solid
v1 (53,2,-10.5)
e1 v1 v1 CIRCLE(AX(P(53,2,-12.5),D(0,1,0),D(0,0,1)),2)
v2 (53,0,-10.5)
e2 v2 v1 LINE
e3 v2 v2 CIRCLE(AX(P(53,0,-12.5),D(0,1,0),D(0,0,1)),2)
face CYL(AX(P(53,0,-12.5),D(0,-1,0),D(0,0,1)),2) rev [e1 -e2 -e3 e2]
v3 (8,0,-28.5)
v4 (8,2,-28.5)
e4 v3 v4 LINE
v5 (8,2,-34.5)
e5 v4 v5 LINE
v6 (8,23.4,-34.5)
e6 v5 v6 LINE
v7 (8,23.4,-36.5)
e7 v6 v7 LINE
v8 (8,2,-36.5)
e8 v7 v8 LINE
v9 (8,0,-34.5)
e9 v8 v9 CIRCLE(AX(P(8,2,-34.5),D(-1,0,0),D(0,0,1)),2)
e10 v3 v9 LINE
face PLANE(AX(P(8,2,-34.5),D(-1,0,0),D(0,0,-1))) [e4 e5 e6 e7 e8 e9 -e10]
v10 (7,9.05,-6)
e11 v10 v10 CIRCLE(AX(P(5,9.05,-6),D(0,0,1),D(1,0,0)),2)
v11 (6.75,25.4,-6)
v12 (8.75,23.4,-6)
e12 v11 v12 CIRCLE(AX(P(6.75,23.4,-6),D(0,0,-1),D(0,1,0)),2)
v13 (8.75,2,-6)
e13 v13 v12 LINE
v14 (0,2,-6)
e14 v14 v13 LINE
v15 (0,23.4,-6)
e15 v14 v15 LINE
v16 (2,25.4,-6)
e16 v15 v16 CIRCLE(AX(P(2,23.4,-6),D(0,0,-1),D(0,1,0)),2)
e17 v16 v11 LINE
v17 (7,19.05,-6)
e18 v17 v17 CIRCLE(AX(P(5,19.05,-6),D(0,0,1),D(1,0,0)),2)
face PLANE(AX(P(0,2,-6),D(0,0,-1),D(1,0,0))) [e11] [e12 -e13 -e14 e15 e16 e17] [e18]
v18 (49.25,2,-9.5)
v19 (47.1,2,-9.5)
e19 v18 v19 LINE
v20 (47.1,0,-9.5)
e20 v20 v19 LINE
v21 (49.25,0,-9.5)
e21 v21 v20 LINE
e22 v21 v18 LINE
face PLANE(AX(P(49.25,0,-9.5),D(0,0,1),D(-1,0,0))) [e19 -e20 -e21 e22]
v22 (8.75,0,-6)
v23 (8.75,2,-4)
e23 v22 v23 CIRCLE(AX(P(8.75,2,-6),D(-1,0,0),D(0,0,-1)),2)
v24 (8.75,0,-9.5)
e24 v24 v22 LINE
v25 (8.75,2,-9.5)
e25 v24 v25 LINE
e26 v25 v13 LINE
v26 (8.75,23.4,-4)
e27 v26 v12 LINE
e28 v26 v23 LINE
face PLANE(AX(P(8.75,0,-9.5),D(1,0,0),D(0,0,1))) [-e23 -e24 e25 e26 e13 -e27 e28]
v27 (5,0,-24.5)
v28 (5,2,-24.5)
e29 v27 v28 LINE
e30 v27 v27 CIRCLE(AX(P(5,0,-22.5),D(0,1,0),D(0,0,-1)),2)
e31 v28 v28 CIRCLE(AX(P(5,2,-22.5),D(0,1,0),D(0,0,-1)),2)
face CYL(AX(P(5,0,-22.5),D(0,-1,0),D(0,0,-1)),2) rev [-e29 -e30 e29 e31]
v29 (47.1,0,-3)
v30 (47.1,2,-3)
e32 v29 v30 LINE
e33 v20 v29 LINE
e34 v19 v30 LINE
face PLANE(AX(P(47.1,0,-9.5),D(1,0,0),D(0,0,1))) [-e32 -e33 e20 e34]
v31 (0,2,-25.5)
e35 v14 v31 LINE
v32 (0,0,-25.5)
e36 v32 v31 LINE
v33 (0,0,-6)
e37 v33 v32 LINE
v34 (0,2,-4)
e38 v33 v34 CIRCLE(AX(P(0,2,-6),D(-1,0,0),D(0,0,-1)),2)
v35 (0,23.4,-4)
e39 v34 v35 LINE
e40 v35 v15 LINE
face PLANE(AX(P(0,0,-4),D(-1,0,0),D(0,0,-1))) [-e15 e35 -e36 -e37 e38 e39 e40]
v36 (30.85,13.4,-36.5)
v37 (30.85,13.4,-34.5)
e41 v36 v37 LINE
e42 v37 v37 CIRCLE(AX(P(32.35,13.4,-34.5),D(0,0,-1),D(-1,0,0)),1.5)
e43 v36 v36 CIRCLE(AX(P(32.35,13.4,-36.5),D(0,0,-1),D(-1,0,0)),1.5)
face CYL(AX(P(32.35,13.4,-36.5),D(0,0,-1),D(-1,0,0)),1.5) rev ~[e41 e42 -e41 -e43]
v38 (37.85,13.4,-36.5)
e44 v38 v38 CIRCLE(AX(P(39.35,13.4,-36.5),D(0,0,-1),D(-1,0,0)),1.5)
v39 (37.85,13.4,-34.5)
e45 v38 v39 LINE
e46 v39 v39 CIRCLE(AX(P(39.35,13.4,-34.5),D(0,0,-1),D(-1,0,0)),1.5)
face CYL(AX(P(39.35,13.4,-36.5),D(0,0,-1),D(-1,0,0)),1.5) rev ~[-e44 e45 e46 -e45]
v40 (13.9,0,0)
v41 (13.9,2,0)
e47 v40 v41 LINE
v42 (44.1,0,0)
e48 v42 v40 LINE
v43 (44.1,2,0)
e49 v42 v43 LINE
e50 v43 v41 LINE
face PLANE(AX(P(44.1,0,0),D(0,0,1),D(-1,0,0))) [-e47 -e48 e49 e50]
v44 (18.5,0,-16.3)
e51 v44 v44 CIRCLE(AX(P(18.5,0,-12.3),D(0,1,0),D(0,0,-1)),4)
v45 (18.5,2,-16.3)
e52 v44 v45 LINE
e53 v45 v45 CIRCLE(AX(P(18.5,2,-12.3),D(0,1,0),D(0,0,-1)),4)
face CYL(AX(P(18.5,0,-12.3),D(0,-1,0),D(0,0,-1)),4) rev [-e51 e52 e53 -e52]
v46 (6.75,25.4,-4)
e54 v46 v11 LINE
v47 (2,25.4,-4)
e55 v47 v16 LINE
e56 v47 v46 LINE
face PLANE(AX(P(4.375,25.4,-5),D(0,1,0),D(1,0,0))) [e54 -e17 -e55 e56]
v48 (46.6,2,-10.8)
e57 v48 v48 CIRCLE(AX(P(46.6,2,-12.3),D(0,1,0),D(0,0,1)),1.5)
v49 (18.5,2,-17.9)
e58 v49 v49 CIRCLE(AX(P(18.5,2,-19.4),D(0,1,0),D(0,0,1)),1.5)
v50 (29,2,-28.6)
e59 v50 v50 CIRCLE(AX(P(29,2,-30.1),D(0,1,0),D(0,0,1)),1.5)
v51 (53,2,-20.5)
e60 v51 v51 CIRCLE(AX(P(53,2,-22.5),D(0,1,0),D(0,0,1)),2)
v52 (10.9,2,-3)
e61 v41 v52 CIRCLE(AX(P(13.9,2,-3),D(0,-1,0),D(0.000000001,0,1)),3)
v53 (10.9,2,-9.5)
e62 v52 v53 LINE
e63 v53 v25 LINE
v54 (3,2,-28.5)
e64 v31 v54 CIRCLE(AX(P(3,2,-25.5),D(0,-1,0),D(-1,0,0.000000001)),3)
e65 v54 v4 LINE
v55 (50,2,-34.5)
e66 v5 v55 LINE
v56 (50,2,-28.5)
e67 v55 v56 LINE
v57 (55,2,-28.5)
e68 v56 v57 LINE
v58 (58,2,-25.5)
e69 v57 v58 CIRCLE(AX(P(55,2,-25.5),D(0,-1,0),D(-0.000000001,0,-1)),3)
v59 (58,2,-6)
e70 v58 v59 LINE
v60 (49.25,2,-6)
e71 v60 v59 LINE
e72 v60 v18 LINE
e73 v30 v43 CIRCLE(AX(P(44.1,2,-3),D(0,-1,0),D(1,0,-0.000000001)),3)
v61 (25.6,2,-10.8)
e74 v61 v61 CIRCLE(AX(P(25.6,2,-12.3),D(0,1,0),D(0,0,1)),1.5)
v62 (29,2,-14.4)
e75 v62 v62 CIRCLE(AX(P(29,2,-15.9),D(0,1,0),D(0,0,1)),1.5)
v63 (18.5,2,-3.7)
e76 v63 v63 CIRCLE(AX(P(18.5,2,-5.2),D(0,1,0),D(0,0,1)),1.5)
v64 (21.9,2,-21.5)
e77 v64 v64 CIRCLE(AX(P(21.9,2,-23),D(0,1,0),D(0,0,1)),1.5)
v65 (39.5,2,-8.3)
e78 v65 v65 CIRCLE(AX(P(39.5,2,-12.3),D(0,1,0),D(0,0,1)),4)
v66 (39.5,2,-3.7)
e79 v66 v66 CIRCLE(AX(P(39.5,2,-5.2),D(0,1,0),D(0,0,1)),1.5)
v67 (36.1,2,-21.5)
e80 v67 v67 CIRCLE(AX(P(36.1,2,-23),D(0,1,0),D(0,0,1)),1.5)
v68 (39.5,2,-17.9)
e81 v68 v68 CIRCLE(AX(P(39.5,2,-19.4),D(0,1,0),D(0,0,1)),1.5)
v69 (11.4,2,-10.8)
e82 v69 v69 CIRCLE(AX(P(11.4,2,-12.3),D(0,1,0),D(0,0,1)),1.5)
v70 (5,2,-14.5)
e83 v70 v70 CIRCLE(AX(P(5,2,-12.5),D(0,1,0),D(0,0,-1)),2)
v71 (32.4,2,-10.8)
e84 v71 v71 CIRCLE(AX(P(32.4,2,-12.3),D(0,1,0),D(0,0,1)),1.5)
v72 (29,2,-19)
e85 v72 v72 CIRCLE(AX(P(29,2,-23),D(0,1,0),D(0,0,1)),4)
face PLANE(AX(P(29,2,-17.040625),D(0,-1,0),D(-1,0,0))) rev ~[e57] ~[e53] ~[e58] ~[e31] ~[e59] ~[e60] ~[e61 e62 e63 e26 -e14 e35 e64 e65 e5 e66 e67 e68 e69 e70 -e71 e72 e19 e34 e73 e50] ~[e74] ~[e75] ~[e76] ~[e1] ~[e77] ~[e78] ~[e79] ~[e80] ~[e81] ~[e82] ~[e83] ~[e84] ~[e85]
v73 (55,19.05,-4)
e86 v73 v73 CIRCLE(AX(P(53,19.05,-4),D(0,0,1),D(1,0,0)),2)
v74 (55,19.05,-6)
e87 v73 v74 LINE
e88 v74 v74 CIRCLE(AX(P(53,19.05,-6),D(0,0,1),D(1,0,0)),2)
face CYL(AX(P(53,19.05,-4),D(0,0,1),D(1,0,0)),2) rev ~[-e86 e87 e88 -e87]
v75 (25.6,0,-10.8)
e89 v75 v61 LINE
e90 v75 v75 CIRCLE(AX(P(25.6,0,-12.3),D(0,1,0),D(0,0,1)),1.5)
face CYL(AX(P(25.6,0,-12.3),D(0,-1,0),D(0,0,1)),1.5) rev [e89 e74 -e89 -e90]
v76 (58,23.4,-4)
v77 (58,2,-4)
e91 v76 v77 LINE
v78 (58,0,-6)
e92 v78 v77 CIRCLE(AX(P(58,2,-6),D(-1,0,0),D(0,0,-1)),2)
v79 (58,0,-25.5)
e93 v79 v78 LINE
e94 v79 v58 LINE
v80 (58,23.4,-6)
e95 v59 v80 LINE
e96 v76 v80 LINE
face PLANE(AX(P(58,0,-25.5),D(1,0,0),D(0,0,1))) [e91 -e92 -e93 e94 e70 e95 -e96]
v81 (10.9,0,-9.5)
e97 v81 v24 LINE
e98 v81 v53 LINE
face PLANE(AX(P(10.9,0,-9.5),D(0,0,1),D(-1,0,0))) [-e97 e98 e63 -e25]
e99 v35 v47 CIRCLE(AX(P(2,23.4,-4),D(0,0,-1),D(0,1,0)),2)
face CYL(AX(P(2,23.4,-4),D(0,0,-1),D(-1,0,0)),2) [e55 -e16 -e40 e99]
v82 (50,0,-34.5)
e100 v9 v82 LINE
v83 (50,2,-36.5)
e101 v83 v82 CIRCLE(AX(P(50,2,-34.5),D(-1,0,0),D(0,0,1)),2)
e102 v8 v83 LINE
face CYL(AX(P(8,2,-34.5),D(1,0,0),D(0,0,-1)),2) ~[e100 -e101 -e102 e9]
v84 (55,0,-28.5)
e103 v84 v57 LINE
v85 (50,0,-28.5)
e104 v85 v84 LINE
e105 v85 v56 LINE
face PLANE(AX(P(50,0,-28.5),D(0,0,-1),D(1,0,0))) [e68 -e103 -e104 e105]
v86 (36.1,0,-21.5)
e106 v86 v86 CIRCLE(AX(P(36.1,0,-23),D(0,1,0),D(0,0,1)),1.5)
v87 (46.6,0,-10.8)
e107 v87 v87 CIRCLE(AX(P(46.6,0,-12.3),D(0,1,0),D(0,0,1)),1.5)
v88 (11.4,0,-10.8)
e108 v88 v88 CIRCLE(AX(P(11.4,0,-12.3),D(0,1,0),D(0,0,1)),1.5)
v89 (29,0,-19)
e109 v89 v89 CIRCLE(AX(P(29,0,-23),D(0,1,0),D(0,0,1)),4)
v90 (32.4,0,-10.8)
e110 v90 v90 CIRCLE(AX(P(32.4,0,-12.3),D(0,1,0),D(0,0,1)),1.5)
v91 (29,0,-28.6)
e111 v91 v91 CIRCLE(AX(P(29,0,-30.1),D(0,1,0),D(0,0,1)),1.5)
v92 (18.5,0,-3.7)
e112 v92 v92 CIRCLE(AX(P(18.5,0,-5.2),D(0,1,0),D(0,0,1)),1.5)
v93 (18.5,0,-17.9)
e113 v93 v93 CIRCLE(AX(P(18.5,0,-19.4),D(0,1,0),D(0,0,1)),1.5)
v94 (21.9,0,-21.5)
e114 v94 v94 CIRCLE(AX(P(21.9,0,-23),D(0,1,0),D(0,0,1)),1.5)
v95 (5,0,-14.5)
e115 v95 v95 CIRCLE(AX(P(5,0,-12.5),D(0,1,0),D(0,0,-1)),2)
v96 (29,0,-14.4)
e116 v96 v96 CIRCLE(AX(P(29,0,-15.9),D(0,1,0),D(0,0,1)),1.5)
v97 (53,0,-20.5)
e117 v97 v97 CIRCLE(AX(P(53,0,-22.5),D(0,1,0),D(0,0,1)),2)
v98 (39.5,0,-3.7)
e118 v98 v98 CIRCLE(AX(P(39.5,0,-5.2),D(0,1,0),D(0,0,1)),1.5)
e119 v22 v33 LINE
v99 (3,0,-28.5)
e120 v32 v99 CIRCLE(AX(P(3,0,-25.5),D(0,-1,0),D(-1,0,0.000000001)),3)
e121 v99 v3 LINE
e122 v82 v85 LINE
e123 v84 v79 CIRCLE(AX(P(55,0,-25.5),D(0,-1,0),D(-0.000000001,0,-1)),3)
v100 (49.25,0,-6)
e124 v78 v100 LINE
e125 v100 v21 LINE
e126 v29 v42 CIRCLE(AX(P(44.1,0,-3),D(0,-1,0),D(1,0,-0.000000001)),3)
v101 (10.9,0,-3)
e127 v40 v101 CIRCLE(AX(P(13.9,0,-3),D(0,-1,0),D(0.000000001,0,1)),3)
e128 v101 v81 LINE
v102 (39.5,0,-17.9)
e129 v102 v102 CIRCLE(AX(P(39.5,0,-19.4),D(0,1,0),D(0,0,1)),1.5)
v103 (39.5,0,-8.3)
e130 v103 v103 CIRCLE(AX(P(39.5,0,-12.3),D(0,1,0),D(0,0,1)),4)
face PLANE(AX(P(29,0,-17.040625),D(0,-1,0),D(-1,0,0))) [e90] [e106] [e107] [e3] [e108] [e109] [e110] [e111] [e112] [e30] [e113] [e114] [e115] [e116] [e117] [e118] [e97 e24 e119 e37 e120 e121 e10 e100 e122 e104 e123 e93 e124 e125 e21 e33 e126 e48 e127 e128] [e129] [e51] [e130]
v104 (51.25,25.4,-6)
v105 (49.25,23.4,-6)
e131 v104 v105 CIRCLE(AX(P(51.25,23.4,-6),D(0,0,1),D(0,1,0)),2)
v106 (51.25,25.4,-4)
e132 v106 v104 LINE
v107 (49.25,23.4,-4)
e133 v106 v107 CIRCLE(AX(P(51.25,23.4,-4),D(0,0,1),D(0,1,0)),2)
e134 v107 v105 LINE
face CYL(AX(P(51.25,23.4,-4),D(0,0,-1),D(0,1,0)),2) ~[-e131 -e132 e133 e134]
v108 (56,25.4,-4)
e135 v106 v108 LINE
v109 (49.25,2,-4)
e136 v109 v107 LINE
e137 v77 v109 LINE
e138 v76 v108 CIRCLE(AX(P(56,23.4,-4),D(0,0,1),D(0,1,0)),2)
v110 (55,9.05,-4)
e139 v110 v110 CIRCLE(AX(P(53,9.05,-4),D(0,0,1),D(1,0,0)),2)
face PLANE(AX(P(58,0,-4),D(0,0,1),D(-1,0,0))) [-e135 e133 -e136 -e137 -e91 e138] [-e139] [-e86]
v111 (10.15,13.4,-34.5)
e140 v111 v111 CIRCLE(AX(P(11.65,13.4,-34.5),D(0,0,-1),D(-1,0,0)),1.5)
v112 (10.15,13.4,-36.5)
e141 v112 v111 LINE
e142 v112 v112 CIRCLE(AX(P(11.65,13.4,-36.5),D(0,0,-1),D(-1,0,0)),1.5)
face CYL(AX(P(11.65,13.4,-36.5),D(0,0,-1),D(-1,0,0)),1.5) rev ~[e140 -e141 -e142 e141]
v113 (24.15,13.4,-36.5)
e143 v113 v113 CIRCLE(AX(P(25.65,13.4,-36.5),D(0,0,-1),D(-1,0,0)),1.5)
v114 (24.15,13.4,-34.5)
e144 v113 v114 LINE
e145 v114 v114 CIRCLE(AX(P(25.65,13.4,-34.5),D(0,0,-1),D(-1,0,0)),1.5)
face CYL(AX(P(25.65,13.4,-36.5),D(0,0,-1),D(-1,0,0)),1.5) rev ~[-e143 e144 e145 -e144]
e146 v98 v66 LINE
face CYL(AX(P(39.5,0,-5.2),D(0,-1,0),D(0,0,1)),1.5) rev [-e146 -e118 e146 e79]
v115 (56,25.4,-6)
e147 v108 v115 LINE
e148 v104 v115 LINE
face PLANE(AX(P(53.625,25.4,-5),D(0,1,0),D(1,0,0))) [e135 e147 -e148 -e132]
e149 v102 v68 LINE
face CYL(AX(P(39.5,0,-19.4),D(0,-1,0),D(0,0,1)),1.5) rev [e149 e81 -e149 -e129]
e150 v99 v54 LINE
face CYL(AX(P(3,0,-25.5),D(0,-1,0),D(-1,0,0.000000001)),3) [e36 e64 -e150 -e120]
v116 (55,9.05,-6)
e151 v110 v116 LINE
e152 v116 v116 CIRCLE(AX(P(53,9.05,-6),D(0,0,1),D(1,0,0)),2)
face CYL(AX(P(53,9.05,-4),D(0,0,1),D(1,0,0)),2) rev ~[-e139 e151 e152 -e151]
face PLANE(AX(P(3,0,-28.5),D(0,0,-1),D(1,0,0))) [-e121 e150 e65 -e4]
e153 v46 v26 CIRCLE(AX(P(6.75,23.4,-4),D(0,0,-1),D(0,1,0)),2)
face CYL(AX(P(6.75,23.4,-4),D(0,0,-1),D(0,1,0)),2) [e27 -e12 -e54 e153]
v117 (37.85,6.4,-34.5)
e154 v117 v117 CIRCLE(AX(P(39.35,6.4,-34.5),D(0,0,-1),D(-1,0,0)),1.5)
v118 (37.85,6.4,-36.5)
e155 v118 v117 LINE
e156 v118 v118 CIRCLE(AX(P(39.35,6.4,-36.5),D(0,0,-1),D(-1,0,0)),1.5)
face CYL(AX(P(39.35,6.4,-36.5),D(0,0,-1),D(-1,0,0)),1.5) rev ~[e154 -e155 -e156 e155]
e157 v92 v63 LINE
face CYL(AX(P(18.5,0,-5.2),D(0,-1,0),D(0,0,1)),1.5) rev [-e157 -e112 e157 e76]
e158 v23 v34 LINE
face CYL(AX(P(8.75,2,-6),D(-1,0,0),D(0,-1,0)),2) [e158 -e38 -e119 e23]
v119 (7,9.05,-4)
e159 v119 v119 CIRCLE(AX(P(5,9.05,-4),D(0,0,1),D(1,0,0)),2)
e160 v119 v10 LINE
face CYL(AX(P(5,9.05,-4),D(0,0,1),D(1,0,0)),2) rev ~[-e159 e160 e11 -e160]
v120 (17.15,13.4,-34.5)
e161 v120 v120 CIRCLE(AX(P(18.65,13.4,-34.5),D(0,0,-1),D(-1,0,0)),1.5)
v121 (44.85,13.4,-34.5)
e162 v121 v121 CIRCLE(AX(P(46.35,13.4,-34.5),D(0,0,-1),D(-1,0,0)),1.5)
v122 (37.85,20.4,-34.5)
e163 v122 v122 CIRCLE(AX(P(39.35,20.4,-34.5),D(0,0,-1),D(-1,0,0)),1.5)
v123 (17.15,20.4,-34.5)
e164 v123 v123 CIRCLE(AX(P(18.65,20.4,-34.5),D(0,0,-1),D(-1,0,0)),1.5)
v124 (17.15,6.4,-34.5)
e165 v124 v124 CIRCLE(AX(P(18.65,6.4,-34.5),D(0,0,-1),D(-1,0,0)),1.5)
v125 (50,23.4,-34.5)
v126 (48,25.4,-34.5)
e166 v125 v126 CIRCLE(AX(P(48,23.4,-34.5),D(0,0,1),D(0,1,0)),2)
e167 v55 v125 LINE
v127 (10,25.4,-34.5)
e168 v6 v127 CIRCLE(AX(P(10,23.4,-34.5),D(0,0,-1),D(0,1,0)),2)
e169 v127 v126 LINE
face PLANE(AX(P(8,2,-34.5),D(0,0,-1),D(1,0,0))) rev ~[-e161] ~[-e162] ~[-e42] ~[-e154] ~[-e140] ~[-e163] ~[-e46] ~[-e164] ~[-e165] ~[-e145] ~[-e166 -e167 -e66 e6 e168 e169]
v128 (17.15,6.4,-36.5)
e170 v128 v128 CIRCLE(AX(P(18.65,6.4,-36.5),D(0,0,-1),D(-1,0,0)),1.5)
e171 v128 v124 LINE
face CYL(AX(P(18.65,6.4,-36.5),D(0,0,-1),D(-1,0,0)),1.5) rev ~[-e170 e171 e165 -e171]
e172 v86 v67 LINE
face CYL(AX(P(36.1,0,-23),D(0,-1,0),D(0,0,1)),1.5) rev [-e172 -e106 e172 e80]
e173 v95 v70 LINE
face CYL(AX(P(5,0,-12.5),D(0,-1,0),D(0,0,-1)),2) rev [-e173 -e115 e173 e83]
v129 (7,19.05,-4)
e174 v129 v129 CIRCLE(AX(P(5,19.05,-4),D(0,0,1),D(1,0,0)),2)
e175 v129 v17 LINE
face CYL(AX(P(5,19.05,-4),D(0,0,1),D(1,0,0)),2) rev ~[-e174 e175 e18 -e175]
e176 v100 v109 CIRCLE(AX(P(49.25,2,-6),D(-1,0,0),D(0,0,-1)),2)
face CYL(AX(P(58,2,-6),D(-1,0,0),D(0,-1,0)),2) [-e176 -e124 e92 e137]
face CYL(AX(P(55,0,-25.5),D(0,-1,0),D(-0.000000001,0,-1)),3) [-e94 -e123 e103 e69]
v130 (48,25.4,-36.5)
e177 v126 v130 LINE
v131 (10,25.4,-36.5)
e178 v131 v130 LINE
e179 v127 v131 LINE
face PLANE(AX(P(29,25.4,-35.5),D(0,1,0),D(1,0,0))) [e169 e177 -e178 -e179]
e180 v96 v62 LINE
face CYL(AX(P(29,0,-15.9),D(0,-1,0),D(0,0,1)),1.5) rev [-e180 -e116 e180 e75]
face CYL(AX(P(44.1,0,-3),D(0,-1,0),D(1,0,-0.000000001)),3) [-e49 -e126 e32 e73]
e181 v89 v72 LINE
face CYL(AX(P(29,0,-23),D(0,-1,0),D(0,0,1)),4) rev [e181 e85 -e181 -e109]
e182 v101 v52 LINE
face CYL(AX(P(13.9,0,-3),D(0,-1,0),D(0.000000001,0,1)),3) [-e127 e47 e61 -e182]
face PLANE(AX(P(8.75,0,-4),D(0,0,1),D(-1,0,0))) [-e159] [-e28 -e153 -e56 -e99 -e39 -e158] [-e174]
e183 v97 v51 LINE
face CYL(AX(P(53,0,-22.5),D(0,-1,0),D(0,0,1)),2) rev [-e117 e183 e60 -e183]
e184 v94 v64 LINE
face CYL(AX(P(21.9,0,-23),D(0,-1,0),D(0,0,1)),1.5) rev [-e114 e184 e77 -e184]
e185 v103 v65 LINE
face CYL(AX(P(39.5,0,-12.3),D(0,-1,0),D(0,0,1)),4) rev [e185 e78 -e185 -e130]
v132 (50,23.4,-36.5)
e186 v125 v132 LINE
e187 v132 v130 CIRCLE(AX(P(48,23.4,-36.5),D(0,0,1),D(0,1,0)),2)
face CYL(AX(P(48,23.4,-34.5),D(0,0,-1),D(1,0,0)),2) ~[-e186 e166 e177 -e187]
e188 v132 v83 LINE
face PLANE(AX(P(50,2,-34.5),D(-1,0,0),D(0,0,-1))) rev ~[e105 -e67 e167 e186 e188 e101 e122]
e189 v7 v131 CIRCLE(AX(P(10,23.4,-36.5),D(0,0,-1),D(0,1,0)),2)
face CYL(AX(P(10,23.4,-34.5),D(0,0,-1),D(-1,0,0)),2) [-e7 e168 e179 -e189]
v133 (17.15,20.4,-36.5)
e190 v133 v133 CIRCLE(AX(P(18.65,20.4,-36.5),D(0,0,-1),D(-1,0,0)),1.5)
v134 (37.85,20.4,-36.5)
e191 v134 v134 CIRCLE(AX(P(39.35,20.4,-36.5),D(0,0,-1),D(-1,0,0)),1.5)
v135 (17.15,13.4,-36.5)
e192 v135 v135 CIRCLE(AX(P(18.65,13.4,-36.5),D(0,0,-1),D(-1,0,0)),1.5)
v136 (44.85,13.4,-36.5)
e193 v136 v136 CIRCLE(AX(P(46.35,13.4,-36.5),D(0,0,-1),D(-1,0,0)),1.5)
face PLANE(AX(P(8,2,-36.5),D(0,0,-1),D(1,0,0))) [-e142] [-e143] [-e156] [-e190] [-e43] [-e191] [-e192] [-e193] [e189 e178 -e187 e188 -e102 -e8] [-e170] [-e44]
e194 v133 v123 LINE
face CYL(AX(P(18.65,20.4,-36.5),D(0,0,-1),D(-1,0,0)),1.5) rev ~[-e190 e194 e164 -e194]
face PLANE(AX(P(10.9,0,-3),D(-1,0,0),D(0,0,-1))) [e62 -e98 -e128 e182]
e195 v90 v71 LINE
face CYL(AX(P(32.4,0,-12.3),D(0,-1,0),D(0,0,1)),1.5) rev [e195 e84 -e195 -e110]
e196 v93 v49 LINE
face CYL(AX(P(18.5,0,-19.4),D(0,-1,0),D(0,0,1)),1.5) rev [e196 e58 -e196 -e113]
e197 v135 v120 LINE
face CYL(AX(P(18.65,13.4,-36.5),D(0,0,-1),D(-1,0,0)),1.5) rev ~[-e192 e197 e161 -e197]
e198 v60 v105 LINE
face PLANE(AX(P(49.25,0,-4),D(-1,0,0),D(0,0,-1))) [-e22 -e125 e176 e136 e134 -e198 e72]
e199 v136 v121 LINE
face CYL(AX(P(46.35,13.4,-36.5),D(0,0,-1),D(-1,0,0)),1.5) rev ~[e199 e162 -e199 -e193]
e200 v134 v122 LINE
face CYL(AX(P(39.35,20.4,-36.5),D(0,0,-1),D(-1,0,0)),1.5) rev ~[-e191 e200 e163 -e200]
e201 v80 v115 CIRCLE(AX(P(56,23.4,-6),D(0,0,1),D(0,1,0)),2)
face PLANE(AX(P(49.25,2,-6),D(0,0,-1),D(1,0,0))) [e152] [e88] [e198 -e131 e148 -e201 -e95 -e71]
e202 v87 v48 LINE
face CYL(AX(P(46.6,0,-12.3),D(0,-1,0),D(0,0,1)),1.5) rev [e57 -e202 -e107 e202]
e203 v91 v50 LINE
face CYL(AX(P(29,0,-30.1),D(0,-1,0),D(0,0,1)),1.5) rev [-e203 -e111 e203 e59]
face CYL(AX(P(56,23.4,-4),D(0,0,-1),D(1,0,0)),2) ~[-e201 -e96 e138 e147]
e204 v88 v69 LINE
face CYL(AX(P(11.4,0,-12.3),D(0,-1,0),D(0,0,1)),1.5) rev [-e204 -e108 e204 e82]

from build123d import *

# Parameters (mm, degrees)
SKETCH1_R           = 4
SKETCH1_R_2         = 1.5
SKETCH1_R_3         = 2
BOSS_EXTRUDE1_DEPTH = 2
SKETCH2_W           = 42
SKETCH2_H           = 2
SKETCH2_W_2         = 8.75
BOSS_EXTRUDE2_DEPTH = 23.4
FILLET1_R           = 2
FILLET2_R           = 2
CUT_EXTRUDE1_REACH  = 73.172
SKETCH3_R           = 2
CUT_EXTRUDE2_REACH  = 75.085
SKETCH4_R           = 1.5


with BuildPart() as part:
    # Sketch1 → Boss-Extrude1 (new body)
    with BuildSketch(Plane(origin=(0, 0, 0), x_dir=(1, 0, 0), z_dir=(0, 1, 0))):
        with BuildLine():
            Line((0, 4), (0, 25.5))
            ThreePointArc((0, 25.5), (0.878679656, 27.621320344), (3, 28.5))
            Line((3, 28.5), (8, 28.5))
            Line((8, 28.5), (8, 36.5))
            Line((8, 36.5), (50, 36.5))
            Line((50, 36.5), (50, 28.5))
            Line((50, 28.5), (55, 28.5))
            ThreePointArc((55, 28.5), (57.121320344, 27.621320344), (58, 25.5))
            Line((58, 25.5), (58, 4))
            Line((58, 4), (49.25, 4))
            Line((49.25, 4), (49.25, 9.5))
            Line((49.25, 9.5), (47.1, 9.5))
            Line((47.1, 9.5), (47.1, 3))
            ThreePointArc((47.1, 3), (46.221320344, 0.878679656), (44.1, 0))
            Line((44.1, 0), (13.9, 0))
            ThreePointArc((13.9, 0), (11.778679656, 0.878679656), (10.9, 3))
            Line((10.9, 3), (10.9, 9.5))
            Line((10.9, 9.5), (8.75, 9.5))
            Line((8.75, 9.5), (8.75, 4))
            Line((8.75, 4), (0, 4))
        make_face()
        with Locations(Location((39.5, 12.3, 0), (0, 0, 270))):
            Circle(SKETCH1_R, mode=Mode.SUBTRACT)
        with Locations(Location((18.5, 12.3, 0), (0, 0, 90))):
            Circle(SKETCH1_R, mode=Mode.SUBTRACT)
        with Locations(Location((18.5, 19.4, 0), (0, 0, 270))):
            Circle(SKETCH1_R_2, mode=Mode.SUBTRACT)
        with Locations(Location((39.5, 19.4, 0), (0, 0, 270))):
            Circle(SKETCH1_R_2, mode=Mode.SUBTRACT)
        with Locations(Location((46.6, 12.3, 0), (0, 0, 270))):
            Circle(SKETCH1_R_2, mode=Mode.SUBTRACT)
        with Locations(Location((39.5, 5.2, 0), (0, 0, 270))):
            Circle(SKETCH1_R_2, mode=Mode.SUBTRACT)
        with Locations(Location((32.4, 12.3, 0), (0, 0, 270))):
            Circle(SKETCH1_R_2, mode=Mode.SUBTRACT)
        with Locations(Location((25.6, 12.3, 0), (0, 0, 270))):
            Circle(SKETCH1_R_2, mode=Mode.SUBTRACT)
        with Locations(Location((18.5, 5.2, 0), (0, 0, 270))):
            Circle(SKETCH1_R_2, mode=Mode.SUBTRACT)
        with Locations(Location((11.4, 12.3, 0), (0, 0, 270))):
            Circle(SKETCH1_R_2, mode=Mode.SUBTRACT)
        with Locations(Location((29, 23, 0), (0, 0, 270))):
            Circle(SKETCH1_R, mode=Mode.SUBTRACT)
        with Locations(Location((29, 30.1, 0), (0, 0, 270))):
            Circle(SKETCH1_R_2, mode=Mode.SUBTRACT)
        with Locations(Location((36.1, 23, 0), (0, 0, 270))):
            Circle(SKETCH1_R_2, mode=Mode.SUBTRACT)
        with Locations(Location((29, 15.9, 0), (0, 0, 270))):
            Circle(SKETCH1_R_2, mode=Mode.SUBTRACT)
        with Locations(Location((21.9, 23, 0), (0, 0, 270))):
            Circle(SKETCH1_R_2, mode=Mode.SUBTRACT)
        with Locations(Location((53, 22.5, 0), (0, 0, 270))):
            Circle(SKETCH1_R_3, mode=Mode.SUBTRACT)
        with Locations(Location((5, 22.5, 0), (0, 0, 90))):
            Circle(SKETCH1_R_3, mode=Mode.SUBTRACT)
        with Locations(Location((53, 12.5, 0), (0, 0, 270))):
            Circle(SKETCH1_R_3, mode=Mode.SUBTRACT)
        with Locations(Location((5, 12.5, 0), (0, 0, 90))):
            Circle(SKETCH1_R_3, mode=Mode.SUBTRACT)
    extrude(amount=BOSS_EXTRUDE1_DEPTH)

    # Sketch2 → Boss-Extrude2 (add)
    with BuildSketch(Plane(origin=(0, 2, 0), x_dir=(1, 0, 0), z_dir=(0, 1, 0))):
        with Locations((29, 35.5)):
            Rectangle(SKETCH2_W, SKETCH2_H)
        with Locations((4.375, 5)):
            Rectangle(SKETCH2_W_2, SKETCH2_H)
        with Locations((53.625, 5)):
            Rectangle(SKETCH2_W_2, SKETCH2_H)
    extrude(amount=BOSS_EXTRUDE2_DEPTH)

    # Fillet1
    fillet1_edges = [part.edges().sort_by_distance(p)[0] for p in [
        (8, 25.4, -35.5),
        (50, 25.4, -35.5),
        (0, 25.4, -5),
        (8.75, 25.4, -5),
        (49.25, 25.4, -5),
        (58, 25.4, -5),
    ]]
    fillet(fillet1_edges, radius=FILLET1_R)

    # Fillet2
    fillet2_edges = [part.edges().sort_by_distance(p)[0] for p in [
        (53.625, 0, -4),
        (4.375, 0, -4),
        (29, 0, -36.5),
    ]]
    fillet(fillet2_edges, radius=FILLET2_R)

    # Sketch3 → Cut-Extrude1 (cut, up to next)
    with BuildSketch(Plane.XY.offset(-4), mode=Mode.PRIVATE) as cut_extrude1_sk1:
        with Locations((5, 19.05)):
            Circle(SKETCH3_R)
    cut_extrude1_tool1 = extrude(cut_extrude1_sk1.sketch, amount=-CUT_EXTRUDE1_REACH, mode=Mode.PRIVATE) & part.part
    # Sketch3 → Cut-Extrude1 (cut, up to next)
    with BuildSketch(Plane.XY.offset(-4), mode=Mode.PRIVATE) as cut_extrude1_sk2:
        with Locations((5, 9.05)):
            Circle(SKETCH3_R)
    cut_extrude1_tool2 = extrude(cut_extrude1_sk2.sketch, amount=-CUT_EXTRUDE1_REACH, mode=Mode.PRIVATE) & part.part
    # Sketch3 → Cut-Extrude1 (cut, up to next)
    with BuildSketch(Plane.XY.offset(-4), mode=Mode.PRIVATE) as cut_extrude1_sk3:
        with Locations((53, 9.05)):
            Circle(SKETCH3_R)
    cut_extrude1_tool3 = extrude(cut_extrude1_sk3.sketch, amount=-CUT_EXTRUDE1_REACH, mode=Mode.PRIVATE) & part.part
    # Sketch3 → Cut-Extrude1 (cut, up to next)
    with BuildSketch(Plane.XY.offset(-4), mode=Mode.PRIVATE) as cut_extrude1_sk4:
        with Locations((53, 19.05)):
            Circle(SKETCH3_R)
    cut_extrude1_tool4 = extrude(cut_extrude1_sk4.sketch, amount=-CUT_EXTRUDE1_REACH, mode=Mode.PRIVATE) & part.part
    add(cut_extrude1_tool1.solids().sort_by_distance((5, 19.05, -4))[0], mode=Mode.SUBTRACT)
    add(cut_extrude1_tool2.solids().sort_by_distance((5, 9.05, -4))[0], mode=Mode.SUBTRACT)
    add(cut_extrude1_tool3.solids().sort_by_distance((53, 9.05, -4))[0], mode=Mode.SUBTRACT)
    add(cut_extrude1_tool4.solids().sort_by_distance((53, 19.05, -4))[0], mode=Mode.SUBTRACT)

    # Sketch4 → Cut-Extrude2 (cut, up to next)
    with BuildSketch(Plane(origin=(0, 0, -36.5), x_dir=(-1, 0, 0), z_dir=(0, 0, -1)), mode=Mode.PRIVATE) as cut_extrude2_sk1:
        with Locations((-18.65, 13.4)):
            Circle(SKETCH4_R)
    cut_extrude2_tool1 = extrude(cut_extrude2_sk1.sketch, amount=-CUT_EXTRUDE2_REACH, mode=Mode.PRIVATE) & part.part
    # Sketch4 → Cut-Extrude2 (cut, up to next)
    with BuildSketch(Plane(origin=(0, 0, -36.5), x_dir=(-1, 0, 0), z_dir=(0, 0, -1)), mode=Mode.PRIVATE) as cut_extrude2_sk2:
        with Locations((-18.65, 20.4)):
            Circle(SKETCH4_R)
    cut_extrude2_tool2 = extrude(cut_extrude2_sk2.sketch, amount=-CUT_EXTRUDE2_REACH, mode=Mode.PRIVATE) & part.part
    # Sketch4 → Cut-Extrude2 (cut, up to next)
    with BuildSketch(Plane(origin=(0, 0, -36.5), x_dir=(-1, 0, 0), z_dir=(0, 0, -1)), mode=Mode.PRIVATE) as cut_extrude2_sk3:
        with Locations((-11.65, 13.4)):
            Circle(SKETCH4_R)
    cut_extrude2_tool3 = extrude(cut_extrude2_sk3.sketch, amount=-CUT_EXTRUDE2_REACH, mode=Mode.PRIVATE) & part.part
    # Sketch4 → Cut-Extrude2 (cut, up to next)
    with BuildSketch(Plane(origin=(0, 0, -36.5), x_dir=(-1, 0, 0), z_dir=(0, 0, -1)), mode=Mode.PRIVATE) as cut_extrude2_sk4:
        with Locations((-18.65, 6.4)):
            Circle(SKETCH4_R)
    cut_extrude2_tool4 = extrude(cut_extrude2_sk4.sketch, amount=-CUT_EXTRUDE2_REACH, mode=Mode.PRIVATE) & part.part
    # Sketch4 → Cut-Extrude2 (cut, up to next)
    with BuildSketch(Plane(origin=(0, 0, -36.5), x_dir=(-1, 0, 0), z_dir=(0, 0, -1)), mode=Mode.PRIVATE) as cut_extrude2_sk5:
        with Locations((-25.65, 13.4)):
            Circle(SKETCH4_R)
    cut_extrude2_tool5 = extrude(cut_extrude2_sk5.sketch, amount=-CUT_EXTRUDE2_REACH, mode=Mode.PRIVATE) & part.part
    # Sketch4 → Cut-Extrude2 (cut, up to next)
    with BuildSketch(Plane(origin=(0, 0, -36.5), x_dir=(-1, 0, 0), z_dir=(0, 0, -1)), mode=Mode.PRIVATE) as cut_extrude2_sk6:
        with Locations((-39.35, 6.4)):
            Circle(SKETCH4_R)
    cut_extrude2_tool6 = extrude(cut_extrude2_sk6.sketch, amount=-CUT_EXTRUDE2_REACH, mode=Mode.PRIVATE) & part.part
    # Sketch4 → Cut-Extrude2 (cut, up to next)
    with BuildSketch(Plane(origin=(0, 0, -36.5), x_dir=(-1, 0, 0), z_dir=(0, 0, -1)), mode=Mode.PRIVATE) as cut_extrude2_sk7:
        with Locations((-46.35, 13.4)):
            Circle(SKETCH4_R)
    cut_extrude2_tool7 = extrude(cut_extrude2_sk7.sketch, amount=-CUT_EXTRUDE2_REACH, mode=Mode.PRIVATE) & part.part
    # Sketch4 → Cut-Extrude2 (cut, up to next)
    with BuildSketch(Plane(origin=(0, 0, -36.5), x_dir=(-1, 0, 0), z_dir=(0, 0, -1)), mode=Mode.PRIVATE) as cut_extrude2_sk8:
        with Locations((-39.35, 13.4)):
            Circle(SKETCH4_R)
    cut_extrude2_tool8 = extrude(cut_extrude2_sk8.sketch, amount=-CUT_EXTRUDE2_REACH, mode=Mode.PRIVATE) & part.part
    # Sketch4 → Cut-Extrude2 (cut, up to next)
    with BuildSketch(Plane(origin=(0, 0, -36.5), x_dir=(-1, 0, 0), z_dir=(0, 0, -1)), mode=Mode.PRIVATE) as cut_extrude2_sk9:
        with Locations((-39.35, 20.4)):
            Circle(SKETCH4_R)
    cut_extrude2_tool9 = extrude(cut_extrude2_sk9.sketch, amount=-CUT_EXTRUDE2_REACH, mode=Mode.PRIVATE) & part.part
    # Sketch4 → Cut-Extrude2 (cut, up to next)
    with BuildSketch(Plane(origin=(0, 0, -36.5), x_dir=(-1, 0, 0), z_dir=(0, 0, -1)), mode=Mode.PRIVATE) as cut_extrude2_sk10:
        with Locations((-32.35, 13.4)):
            Circle(SKETCH4_R)
    cut_extrude2_tool10 = extrude(cut_extrude2_sk10.sketch, amount=-CUT_EXTRUDE2_REACH, mode=Mode.PRIVATE) & part.part
    add(cut_extrude2_tool1.solids().sort_by_distance((18.65, 13.4, -36.5))[0], mode=Mode.SUBTRACT)
    add(cut_extrude2_tool2.solids().sort_by_distance((18.65, 20.4, -36.5))[0], mode=Mode.SUBTRACT)
    add(cut_extrude2_tool3.solids().sort_by_distance((11.65, 13.4, -36.5))[0], mode=Mode.SUBTRACT)
    add(cut_extrude2_tool4.solids().sort_by_distance((18.65, 6.4, -36.5))[0], mode=Mode.SUBTRACT)
    add(cut_extrude2_tool5.solids().sort_by_distance((25.65, 13.4, -36.5))[0], mode=Mode.SUBTRACT)
    add(cut_extrude2_tool6.solids().sort_by_distance((39.35, 6.4, -36.5))[0], mode=Mode.SUBTRACT)
    add(cut_extrude2_tool7.solids().sort_by_distance((46.35, 13.4, -36.5))[0], mode=Mode.SUBTRACT)
    add(cut_extrude2_tool8.solids().sort_by_distance((39.35, 13.4, -36.5))[0], mode=Mode.SUBTRACT)
    add(cut_extrude2_tool9.solids().sort_by_distance((39.35, 20.4, -36.5))[0], mode=Mode.SUBTRACT)
    add(cut_extrude2_tool10.solids().sort_by_distance((32.35, 13.4, -36.5))[0], mode=Mode.SUBTRACT)


solid = part.part
